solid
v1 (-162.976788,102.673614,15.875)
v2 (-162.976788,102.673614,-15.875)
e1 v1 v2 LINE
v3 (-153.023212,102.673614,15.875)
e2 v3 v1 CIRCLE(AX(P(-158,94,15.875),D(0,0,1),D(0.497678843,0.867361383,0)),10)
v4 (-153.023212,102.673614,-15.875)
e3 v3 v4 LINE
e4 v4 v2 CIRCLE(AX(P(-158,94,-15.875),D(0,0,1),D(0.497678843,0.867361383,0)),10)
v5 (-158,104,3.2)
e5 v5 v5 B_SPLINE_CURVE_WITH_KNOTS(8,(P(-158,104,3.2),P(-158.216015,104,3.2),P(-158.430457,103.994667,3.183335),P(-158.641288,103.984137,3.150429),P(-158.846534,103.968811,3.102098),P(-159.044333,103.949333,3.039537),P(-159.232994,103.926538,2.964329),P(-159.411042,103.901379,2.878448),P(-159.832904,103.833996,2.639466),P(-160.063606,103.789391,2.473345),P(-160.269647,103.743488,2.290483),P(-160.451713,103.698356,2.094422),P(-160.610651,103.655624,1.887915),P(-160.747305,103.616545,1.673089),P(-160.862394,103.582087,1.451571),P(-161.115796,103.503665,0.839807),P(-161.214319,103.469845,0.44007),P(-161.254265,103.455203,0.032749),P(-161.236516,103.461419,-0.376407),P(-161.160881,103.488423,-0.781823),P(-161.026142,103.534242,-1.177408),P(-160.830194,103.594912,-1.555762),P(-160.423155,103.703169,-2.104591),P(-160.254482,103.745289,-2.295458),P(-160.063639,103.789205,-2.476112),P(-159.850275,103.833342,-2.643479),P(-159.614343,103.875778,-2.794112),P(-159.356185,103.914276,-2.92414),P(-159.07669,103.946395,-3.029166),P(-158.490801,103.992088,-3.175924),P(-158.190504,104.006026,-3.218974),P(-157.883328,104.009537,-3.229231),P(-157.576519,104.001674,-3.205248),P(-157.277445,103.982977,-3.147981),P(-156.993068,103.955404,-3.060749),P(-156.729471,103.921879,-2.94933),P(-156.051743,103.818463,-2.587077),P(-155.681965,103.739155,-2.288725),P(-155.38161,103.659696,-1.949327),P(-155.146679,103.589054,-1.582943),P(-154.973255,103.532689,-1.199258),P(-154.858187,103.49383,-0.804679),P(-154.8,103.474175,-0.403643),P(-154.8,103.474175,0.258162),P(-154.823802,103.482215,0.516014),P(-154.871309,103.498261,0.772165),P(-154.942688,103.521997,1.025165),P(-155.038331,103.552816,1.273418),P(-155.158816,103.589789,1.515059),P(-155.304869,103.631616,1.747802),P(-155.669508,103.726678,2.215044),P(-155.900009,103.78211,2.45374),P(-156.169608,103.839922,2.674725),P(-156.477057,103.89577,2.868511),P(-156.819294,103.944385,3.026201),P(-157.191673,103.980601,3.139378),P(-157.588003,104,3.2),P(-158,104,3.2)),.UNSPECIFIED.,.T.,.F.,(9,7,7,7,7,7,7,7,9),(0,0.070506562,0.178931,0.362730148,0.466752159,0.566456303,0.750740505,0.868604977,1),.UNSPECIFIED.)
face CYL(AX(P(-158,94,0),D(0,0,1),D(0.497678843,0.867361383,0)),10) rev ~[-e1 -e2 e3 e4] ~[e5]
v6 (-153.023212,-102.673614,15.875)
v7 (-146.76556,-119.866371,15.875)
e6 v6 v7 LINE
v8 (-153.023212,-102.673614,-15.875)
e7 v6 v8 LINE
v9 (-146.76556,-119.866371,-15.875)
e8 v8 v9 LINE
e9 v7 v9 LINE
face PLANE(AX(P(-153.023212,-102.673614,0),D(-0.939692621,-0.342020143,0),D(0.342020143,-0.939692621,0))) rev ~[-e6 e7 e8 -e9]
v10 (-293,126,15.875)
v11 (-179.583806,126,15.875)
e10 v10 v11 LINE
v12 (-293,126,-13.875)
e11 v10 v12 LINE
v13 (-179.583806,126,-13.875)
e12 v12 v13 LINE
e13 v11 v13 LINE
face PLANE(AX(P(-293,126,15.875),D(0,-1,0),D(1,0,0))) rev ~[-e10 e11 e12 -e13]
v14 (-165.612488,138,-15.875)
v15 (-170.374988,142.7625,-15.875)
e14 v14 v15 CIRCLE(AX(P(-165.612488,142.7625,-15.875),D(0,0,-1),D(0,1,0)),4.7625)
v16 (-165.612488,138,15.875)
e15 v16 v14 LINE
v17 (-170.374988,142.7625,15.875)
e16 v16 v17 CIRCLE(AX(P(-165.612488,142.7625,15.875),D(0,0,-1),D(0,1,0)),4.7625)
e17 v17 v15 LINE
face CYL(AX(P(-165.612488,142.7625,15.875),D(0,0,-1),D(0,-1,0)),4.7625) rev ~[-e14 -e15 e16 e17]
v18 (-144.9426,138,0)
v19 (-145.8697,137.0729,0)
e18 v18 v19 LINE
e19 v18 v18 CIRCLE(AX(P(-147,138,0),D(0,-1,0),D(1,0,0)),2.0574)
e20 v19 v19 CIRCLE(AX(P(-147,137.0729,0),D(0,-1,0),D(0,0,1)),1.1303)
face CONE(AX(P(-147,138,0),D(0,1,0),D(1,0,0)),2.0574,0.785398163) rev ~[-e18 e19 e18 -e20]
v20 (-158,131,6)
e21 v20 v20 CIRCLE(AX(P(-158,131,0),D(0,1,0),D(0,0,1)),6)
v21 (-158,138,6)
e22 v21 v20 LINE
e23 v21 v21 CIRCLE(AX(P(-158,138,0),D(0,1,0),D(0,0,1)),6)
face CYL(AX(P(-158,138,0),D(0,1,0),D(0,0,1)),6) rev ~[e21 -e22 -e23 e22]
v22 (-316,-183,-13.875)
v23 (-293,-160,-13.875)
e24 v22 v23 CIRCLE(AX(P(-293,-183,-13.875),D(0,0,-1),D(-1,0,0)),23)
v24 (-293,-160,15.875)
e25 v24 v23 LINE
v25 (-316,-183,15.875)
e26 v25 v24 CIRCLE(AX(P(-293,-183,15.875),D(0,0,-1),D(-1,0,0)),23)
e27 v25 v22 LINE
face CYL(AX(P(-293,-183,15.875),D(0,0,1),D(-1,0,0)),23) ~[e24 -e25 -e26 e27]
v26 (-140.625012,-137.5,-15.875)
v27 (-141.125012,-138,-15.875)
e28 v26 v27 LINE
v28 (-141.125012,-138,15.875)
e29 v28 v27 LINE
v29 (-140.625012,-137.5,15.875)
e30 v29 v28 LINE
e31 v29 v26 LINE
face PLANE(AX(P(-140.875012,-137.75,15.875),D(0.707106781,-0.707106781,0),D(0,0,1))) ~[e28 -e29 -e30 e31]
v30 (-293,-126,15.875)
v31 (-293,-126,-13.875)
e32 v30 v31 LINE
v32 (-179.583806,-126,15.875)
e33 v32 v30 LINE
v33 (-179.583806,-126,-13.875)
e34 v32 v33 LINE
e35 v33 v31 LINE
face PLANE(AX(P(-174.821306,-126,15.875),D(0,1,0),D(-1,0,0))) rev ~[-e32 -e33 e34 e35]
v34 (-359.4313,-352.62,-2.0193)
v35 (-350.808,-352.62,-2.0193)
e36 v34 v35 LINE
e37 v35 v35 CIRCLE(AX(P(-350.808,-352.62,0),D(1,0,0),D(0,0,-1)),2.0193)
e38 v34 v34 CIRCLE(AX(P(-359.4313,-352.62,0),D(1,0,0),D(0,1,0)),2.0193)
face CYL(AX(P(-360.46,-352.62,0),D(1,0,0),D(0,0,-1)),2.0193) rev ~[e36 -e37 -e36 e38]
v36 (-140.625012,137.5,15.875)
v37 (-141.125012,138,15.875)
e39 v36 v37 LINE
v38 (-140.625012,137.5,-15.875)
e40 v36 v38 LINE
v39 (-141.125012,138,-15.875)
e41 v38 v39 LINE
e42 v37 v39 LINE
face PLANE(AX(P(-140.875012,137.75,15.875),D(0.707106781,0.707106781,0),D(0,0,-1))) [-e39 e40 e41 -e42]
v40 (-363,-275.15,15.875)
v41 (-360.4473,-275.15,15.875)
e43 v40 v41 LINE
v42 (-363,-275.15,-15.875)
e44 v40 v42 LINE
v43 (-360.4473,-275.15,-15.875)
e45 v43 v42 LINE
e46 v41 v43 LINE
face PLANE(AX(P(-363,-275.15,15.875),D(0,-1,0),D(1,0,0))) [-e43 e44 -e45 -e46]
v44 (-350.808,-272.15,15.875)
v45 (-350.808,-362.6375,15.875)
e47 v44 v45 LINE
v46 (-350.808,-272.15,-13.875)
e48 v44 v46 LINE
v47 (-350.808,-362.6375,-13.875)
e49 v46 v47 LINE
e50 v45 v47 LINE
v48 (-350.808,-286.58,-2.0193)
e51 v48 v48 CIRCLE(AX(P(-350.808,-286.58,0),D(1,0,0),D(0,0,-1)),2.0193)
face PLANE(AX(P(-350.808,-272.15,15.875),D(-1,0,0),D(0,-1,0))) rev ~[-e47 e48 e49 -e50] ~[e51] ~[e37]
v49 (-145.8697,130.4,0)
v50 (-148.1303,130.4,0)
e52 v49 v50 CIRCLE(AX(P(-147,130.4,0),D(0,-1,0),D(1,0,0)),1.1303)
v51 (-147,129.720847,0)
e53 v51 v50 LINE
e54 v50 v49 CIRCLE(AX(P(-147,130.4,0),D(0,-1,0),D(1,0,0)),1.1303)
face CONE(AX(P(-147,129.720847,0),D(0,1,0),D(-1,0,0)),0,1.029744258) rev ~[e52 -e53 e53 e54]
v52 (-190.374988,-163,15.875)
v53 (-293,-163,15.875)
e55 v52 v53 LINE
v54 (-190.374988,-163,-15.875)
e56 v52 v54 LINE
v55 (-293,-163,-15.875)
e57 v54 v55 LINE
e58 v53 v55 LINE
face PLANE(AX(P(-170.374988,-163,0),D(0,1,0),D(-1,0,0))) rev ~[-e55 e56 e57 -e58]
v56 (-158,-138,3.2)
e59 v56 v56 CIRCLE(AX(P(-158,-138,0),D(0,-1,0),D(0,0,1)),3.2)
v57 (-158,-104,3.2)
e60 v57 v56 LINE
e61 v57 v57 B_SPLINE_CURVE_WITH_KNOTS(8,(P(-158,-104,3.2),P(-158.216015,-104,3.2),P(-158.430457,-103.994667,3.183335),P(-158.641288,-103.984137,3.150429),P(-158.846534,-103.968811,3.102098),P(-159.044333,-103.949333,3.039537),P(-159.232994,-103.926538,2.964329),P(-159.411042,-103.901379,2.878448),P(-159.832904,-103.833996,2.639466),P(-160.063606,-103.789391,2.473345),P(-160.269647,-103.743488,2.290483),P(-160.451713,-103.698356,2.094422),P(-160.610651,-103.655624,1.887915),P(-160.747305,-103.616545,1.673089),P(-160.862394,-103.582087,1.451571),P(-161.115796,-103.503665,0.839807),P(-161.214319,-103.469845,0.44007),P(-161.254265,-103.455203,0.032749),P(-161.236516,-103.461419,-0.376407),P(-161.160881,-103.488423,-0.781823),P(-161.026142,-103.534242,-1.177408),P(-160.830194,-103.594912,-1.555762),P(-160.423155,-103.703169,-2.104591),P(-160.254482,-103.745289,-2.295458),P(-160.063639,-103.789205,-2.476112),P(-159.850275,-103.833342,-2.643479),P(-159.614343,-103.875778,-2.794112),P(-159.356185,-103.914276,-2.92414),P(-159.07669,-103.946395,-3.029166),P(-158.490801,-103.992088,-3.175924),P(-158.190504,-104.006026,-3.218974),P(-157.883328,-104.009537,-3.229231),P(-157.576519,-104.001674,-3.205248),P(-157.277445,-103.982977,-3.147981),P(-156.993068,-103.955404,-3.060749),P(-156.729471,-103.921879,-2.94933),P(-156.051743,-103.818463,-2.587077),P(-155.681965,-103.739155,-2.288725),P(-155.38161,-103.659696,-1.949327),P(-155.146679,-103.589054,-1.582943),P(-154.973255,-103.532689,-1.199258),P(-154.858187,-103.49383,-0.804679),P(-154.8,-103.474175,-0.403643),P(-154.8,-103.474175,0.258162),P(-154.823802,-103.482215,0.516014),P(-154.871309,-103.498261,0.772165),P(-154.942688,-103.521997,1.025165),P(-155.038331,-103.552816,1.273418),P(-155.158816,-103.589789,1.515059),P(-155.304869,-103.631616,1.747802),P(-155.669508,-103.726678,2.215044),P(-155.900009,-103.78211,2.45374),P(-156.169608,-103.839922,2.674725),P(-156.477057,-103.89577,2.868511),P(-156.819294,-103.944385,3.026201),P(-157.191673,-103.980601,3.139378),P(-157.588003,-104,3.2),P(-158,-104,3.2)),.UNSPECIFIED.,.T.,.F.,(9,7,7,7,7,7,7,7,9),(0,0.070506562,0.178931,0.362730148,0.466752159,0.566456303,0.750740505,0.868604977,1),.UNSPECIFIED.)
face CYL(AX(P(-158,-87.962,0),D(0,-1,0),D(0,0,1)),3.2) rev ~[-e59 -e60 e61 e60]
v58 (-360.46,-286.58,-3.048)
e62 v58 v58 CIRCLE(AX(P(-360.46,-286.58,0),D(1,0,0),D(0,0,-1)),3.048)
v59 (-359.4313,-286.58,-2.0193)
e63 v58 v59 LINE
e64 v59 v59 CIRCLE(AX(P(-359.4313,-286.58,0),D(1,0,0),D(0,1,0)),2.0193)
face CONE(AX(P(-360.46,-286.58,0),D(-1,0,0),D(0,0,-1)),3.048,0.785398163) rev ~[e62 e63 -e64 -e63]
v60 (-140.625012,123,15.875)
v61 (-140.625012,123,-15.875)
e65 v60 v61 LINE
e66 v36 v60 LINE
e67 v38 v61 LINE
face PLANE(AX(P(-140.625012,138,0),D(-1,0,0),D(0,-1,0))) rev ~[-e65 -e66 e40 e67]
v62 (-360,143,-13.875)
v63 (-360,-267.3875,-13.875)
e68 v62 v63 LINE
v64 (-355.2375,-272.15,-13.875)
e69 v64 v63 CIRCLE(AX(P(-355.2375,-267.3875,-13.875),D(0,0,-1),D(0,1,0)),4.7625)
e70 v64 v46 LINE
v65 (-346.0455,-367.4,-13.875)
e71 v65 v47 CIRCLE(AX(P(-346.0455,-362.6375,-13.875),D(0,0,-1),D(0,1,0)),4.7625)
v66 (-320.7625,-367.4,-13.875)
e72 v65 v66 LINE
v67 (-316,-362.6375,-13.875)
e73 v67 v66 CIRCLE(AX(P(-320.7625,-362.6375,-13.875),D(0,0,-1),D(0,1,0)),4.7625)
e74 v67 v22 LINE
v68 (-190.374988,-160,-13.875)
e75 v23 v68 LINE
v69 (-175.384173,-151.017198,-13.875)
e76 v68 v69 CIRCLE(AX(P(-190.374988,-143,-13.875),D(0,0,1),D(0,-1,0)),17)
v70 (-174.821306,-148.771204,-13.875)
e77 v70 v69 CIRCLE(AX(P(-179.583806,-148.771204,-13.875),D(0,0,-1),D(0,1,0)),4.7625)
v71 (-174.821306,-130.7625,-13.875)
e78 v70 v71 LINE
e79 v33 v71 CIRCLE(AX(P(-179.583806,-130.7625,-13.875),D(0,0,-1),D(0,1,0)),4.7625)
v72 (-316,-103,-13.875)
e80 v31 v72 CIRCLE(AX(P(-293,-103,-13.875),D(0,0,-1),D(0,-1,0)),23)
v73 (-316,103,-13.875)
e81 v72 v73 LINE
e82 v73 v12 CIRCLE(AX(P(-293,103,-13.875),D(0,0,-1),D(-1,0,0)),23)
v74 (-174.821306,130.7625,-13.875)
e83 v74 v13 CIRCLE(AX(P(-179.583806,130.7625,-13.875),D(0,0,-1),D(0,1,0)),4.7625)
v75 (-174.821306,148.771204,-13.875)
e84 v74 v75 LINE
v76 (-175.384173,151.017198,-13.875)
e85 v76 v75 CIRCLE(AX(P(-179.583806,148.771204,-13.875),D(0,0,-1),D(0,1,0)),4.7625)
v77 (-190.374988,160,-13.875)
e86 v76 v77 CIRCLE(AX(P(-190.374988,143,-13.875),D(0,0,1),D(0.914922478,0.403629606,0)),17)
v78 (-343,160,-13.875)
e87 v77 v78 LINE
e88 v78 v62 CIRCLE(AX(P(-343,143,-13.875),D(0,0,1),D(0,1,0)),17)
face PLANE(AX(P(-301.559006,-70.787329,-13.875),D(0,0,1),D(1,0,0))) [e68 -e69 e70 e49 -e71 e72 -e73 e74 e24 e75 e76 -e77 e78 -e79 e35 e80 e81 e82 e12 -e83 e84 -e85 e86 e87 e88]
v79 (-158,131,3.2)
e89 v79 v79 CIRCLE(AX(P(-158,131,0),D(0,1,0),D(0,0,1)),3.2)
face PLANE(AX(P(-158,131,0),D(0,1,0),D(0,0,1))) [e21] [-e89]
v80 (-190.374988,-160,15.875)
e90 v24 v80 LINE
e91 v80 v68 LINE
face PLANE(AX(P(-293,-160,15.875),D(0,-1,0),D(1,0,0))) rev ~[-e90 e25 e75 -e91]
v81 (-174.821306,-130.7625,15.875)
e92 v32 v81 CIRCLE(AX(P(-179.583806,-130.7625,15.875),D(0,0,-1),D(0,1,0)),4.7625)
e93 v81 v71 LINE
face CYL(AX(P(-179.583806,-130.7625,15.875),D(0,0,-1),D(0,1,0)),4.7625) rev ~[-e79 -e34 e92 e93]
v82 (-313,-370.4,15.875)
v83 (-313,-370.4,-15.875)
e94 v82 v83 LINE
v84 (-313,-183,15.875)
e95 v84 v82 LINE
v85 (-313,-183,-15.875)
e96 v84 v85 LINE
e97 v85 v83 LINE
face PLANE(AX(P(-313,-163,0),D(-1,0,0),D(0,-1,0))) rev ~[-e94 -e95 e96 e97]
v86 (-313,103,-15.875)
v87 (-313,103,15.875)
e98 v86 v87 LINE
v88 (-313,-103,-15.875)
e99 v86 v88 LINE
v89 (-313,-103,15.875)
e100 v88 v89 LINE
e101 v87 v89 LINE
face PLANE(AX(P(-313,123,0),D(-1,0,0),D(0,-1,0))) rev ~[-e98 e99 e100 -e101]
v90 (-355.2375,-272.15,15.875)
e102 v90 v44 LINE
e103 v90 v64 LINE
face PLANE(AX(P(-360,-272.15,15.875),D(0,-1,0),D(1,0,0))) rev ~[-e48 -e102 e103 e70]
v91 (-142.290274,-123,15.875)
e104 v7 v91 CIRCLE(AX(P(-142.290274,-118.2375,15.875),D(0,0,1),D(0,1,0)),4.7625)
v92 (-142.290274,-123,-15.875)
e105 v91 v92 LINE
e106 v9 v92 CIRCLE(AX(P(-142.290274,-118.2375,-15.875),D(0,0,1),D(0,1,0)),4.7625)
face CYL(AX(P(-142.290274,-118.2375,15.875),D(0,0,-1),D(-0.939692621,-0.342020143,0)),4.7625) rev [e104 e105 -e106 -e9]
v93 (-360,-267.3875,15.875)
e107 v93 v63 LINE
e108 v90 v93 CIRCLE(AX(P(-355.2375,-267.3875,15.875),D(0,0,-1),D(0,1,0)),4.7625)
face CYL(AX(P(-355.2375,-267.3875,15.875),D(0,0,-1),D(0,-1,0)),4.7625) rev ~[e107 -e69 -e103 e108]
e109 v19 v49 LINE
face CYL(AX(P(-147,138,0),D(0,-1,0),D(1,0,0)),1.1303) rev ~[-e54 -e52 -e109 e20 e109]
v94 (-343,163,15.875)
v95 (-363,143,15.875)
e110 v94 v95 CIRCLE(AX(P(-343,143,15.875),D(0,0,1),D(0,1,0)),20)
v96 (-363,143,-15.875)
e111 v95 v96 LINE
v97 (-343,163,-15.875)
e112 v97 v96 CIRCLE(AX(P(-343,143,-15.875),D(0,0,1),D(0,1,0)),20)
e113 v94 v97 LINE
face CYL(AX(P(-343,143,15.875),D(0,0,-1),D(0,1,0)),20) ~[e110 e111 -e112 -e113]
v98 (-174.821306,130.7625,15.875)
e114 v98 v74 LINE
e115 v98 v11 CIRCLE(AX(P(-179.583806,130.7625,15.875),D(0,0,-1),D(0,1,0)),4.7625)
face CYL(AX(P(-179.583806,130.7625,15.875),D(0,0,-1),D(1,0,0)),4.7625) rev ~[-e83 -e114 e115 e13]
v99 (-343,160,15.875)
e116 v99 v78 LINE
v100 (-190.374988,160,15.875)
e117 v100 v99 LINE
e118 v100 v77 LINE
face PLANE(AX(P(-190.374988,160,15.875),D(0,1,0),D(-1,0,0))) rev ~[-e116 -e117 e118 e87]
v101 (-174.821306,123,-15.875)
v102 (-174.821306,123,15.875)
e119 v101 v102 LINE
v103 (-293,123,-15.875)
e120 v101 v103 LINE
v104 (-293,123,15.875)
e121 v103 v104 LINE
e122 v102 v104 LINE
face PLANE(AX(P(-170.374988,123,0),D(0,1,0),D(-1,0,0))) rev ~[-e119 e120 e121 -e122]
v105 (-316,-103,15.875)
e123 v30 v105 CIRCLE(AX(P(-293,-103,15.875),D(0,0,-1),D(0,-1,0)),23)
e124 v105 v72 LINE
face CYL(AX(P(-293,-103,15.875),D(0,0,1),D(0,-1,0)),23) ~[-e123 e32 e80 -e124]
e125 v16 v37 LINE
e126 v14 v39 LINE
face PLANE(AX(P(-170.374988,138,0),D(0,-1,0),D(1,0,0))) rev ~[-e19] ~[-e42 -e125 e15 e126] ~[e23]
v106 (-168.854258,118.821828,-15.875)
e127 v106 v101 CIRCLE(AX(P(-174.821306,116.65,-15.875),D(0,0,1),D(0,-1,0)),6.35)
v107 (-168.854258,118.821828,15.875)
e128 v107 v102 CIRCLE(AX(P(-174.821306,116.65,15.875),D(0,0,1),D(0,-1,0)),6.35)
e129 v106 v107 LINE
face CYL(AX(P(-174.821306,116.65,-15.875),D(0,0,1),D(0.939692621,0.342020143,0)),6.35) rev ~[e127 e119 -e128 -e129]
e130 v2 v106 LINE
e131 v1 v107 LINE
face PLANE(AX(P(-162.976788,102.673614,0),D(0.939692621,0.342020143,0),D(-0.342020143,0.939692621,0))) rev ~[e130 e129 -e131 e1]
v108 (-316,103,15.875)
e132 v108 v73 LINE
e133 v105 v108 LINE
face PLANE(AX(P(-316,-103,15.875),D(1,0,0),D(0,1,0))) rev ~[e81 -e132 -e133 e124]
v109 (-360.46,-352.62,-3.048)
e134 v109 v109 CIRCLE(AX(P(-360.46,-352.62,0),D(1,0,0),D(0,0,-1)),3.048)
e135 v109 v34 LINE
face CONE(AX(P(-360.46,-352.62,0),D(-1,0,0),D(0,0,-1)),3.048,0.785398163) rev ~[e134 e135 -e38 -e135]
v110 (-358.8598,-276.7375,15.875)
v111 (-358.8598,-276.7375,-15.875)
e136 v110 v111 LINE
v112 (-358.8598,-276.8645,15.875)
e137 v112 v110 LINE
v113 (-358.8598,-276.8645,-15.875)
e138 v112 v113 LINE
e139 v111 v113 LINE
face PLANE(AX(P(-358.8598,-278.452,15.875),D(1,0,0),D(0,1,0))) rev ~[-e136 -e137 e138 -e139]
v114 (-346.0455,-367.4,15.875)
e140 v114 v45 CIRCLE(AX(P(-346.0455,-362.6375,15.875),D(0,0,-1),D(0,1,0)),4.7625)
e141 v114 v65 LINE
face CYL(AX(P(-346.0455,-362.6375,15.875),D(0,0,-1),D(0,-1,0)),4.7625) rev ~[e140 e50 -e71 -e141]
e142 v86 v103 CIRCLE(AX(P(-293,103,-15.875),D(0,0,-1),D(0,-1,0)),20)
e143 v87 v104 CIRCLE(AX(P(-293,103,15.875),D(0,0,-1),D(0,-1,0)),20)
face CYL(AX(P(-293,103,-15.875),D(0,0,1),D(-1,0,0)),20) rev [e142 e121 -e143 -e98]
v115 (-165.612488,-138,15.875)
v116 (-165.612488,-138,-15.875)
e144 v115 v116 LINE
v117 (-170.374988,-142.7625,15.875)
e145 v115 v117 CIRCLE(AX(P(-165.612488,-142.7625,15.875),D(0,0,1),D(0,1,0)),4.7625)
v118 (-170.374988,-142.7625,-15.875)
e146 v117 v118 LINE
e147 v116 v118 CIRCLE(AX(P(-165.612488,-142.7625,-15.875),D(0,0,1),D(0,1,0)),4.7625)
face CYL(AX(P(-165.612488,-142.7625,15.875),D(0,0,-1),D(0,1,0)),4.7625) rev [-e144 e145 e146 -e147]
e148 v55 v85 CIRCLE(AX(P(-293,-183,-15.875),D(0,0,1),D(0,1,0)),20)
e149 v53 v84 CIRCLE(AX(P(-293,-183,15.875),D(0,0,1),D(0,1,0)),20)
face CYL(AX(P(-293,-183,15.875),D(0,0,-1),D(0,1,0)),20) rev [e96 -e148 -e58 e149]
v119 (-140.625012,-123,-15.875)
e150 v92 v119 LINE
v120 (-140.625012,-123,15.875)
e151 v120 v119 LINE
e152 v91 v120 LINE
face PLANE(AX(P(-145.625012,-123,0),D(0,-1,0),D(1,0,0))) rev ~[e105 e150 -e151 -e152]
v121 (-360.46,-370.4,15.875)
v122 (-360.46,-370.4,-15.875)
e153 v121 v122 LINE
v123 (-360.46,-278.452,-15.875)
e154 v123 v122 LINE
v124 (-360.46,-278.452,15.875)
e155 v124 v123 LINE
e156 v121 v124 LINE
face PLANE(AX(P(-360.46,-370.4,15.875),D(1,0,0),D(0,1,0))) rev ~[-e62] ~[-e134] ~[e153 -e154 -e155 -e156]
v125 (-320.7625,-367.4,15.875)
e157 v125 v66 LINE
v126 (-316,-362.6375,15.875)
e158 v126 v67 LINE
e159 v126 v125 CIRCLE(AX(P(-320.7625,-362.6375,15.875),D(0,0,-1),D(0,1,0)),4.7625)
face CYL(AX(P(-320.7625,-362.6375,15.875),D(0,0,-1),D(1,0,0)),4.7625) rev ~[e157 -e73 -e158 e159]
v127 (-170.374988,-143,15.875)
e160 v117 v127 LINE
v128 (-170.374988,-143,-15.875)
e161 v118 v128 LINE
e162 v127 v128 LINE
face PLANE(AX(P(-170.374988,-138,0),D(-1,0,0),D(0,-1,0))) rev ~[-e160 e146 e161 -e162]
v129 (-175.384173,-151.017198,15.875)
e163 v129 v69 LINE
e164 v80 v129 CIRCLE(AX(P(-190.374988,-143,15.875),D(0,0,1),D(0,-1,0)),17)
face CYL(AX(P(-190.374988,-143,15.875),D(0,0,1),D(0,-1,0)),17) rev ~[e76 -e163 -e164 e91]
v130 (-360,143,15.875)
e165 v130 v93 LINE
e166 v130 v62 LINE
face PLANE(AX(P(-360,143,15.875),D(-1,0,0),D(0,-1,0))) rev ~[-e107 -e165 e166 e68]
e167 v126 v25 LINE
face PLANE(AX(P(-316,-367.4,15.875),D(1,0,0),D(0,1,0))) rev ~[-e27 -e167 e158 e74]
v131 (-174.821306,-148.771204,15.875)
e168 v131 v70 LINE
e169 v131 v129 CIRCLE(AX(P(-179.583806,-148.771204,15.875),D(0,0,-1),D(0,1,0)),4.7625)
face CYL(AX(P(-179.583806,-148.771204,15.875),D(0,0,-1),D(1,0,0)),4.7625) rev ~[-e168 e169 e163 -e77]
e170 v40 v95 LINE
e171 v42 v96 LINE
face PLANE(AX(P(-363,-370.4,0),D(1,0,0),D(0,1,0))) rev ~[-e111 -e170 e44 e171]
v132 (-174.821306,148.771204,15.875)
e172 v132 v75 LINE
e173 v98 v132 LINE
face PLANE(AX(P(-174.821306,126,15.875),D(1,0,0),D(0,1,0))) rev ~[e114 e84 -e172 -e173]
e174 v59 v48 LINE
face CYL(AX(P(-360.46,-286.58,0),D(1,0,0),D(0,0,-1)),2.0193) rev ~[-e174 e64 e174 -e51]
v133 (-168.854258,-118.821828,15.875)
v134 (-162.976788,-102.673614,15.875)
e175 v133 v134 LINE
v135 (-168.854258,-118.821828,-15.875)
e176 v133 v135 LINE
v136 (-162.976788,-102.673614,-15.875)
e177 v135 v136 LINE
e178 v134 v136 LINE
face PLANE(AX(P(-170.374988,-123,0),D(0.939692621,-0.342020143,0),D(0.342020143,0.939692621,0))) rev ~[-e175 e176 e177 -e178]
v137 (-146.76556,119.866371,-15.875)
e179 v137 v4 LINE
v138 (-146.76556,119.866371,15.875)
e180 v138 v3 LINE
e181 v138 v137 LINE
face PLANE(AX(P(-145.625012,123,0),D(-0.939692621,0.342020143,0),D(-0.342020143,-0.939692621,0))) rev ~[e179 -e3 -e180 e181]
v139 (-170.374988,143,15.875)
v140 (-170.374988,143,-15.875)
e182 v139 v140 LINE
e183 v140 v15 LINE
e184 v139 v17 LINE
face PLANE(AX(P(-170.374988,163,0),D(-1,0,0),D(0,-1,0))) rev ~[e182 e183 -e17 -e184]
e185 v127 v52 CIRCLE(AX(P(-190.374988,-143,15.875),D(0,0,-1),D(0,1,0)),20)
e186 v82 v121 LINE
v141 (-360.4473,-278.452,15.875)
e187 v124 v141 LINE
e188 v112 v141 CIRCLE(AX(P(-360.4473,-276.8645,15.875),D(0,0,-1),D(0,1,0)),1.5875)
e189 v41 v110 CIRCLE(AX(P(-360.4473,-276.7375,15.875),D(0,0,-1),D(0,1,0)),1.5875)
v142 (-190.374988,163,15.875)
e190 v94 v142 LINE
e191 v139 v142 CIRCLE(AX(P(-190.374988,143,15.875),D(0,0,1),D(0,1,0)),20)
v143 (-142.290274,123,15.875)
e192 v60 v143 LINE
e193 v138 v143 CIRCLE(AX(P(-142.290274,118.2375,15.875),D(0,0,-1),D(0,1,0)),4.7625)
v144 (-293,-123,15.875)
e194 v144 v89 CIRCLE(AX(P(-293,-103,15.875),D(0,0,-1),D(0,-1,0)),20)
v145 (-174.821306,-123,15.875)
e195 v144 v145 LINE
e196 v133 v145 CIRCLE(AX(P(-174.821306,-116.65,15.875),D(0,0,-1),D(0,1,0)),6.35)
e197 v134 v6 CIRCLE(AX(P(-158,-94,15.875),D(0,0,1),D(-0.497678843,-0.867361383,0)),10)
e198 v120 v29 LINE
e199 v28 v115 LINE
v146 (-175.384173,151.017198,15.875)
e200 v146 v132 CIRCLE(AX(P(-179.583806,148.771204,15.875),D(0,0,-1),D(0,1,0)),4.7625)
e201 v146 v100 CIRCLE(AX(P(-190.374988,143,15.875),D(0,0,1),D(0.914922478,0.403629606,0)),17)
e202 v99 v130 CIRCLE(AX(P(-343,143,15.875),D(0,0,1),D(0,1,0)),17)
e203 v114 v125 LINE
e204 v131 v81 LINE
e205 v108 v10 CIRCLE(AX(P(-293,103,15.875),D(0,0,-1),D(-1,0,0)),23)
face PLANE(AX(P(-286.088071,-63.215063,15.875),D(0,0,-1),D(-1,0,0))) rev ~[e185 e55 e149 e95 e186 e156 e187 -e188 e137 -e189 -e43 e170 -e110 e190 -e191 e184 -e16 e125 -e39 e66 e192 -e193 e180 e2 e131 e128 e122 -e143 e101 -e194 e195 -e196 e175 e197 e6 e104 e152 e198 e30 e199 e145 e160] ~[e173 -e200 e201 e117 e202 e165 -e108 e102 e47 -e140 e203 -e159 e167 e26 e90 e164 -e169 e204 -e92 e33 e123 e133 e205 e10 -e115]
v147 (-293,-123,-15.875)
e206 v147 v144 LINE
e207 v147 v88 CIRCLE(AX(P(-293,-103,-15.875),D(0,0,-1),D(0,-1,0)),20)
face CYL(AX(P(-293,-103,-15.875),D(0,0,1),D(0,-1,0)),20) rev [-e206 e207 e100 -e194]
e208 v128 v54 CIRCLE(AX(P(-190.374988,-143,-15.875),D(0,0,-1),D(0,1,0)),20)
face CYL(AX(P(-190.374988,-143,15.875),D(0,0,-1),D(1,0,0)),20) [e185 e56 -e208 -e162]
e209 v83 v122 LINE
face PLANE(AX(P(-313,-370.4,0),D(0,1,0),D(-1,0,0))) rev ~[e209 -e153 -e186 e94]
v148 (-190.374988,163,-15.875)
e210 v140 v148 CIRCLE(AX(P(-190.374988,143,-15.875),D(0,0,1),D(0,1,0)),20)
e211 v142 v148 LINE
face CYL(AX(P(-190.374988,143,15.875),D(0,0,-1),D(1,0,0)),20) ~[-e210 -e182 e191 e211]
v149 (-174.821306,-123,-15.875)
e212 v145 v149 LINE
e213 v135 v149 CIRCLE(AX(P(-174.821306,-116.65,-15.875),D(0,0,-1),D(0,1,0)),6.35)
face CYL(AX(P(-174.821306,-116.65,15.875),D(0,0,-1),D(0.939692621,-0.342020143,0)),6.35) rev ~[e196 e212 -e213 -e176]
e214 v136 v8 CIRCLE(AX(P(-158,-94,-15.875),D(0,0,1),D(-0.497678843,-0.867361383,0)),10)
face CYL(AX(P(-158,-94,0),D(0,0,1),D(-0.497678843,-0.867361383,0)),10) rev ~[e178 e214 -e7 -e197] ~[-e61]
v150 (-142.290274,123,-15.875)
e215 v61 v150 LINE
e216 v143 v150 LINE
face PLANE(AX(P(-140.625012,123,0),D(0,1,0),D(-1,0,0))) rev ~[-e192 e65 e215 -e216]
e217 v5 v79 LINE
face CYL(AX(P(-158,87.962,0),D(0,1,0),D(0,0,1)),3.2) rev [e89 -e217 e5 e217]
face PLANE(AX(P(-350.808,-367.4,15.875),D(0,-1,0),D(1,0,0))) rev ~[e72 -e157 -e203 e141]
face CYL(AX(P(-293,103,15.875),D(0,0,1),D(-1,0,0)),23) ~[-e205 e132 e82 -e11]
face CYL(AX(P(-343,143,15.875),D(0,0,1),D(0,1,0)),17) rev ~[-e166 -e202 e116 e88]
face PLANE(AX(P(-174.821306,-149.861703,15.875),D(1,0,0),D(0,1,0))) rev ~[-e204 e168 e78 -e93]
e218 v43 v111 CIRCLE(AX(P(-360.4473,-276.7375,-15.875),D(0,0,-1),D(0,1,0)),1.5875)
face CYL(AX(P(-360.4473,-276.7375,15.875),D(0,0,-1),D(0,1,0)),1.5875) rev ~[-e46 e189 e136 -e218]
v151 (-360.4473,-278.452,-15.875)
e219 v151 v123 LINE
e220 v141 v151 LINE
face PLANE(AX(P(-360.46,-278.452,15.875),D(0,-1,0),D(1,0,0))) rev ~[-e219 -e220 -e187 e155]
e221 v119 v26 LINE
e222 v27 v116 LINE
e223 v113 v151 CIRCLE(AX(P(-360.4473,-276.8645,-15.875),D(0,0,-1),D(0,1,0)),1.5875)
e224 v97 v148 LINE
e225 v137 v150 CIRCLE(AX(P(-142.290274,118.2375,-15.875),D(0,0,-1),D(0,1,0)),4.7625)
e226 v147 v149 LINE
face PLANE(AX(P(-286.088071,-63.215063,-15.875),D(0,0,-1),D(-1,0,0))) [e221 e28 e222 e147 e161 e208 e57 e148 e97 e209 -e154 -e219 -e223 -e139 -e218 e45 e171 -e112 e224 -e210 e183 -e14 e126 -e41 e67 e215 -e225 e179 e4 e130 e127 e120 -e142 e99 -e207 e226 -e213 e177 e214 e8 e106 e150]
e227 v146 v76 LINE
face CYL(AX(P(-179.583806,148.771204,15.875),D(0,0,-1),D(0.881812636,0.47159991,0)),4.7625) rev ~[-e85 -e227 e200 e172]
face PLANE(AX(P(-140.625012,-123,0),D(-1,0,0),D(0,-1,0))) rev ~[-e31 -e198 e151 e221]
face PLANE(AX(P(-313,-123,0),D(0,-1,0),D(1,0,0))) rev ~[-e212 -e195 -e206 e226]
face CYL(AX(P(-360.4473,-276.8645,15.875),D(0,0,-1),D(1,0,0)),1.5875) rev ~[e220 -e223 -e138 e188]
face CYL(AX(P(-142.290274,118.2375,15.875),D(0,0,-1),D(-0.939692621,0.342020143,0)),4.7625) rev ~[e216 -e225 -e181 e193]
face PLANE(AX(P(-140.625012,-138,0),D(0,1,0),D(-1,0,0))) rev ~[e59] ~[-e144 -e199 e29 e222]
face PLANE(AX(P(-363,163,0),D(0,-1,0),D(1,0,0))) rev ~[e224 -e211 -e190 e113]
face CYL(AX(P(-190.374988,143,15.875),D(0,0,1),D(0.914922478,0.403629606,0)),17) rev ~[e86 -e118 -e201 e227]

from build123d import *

# Parameters (mm, degrees)
BOSS_EXTRUDE1_DEPTH              = 15.875
SKETCH13_W                       = 2.54
SKETCH13_H                       = 95.25
CUT_EXTRUDE2_DEPTH               = 32.75
SKETCH14_W                       = 1.6002
SKETCH14_H                       = 3.302
CUT_EXTRUDE3_DEPTH               = 32.75
FILLET4_R                        = 1.5875
FILLET1_R                        = 6.35
FILLET2_R                        = 20
FILLET3_R                        = 4.7625
SKETCH10_R                       = 6
CUT_EXTRUDE1_DEPTH               = 7
F_4_40_TAPPED_HOLE1_D            = 2.2606
F_4_40_TAPPED_HOLE1_DEPTH        = 7.6
F_4_40_TAPPED_HOLE1_CSINK_D      = 4.1148
F_4_40_TAPPED_HOLE1_CSINK_ANGLE  = 90
F_4_40_TAPPED_HOLE1_TIP          = 0.679152758
CHAMFER1_SIZE                    = 0.5
F_10_32_TAPPED_HOLE1_D           = 4.0386
F_10_32_TAPPED_HOLE1_DEPTH       = 12.03
F_10_32_TAPPED_HOLE1_CSINK_D     = 6.096
F_10_32_TAPPED_HOLE1_CSINK_ANGLE = 90
F_10_32_TAPPED_HOLE1_TIP         = 1.213317848
CUT_EXTRUDE7_DEPTH               = 29.75
FILLET5_R                        = 4.7625


with BuildPart() as part:
    # Sketch1 → Boss-Extrude1 (new body, symmetric)
    with BuildSketch(Plane.XY):
        with BuildLine():
            Line((-313, -123), (-176.364963641, -123))
            Line((-176.364963641, -123), (-170.374987965, -123))
            Line((-170.374987965, -123), (-162.97678843, -102.673613833))
            ThreePointArc((-162.97678843, -102.673613833), (-158, -104), (-153.02321157, -102.673613833))
            Line((-153.02321157, -102.673613833), (-145.625012035, -123))
            Line((-145.625012035, -123), (-140.625012035, -123))
            Line((-140.625012035, -123), (-140.625012035, -138))
            Line((-140.625012035, -138), (-145.625012035, -138))
            Line((-145.625012035, -138), (-170.374987965, -138))
            Line((-170.374987965, -138), (-170.374987965, -163))
            Line((-170.374987965, -163), (-313, -163))
            Line((-313, -163), (-313, -370.4))
            Line((-313, -370.4), (-363, -370.4))
            Line((-363, -370.4), (-363, -163))
            Line((-363, -163), (-363, 163))
            Line((-363, 163), (-170.374987965, 163))
            Line((-170.374987965, 163), (-170.374987965, 138))
            Line((-170.374987965, 138), (-145.625012035, 138))
            Line((-145.625012035, 138), (-140.625012035, 138))
            Line((-140.625012035, 138), (-140.625012035, 123))
            Line((-140.625012035, 123), (-145.625012035, 123))
            Line((-145.625012035, 123), (-153.02321157, 102.673613833))
            ThreePointArc((-153.02321157, 102.673613833), (-158, 104), (-162.97678843, 102.673613833))
            Line((-162.97678843, 102.673613833), (-170.374987965, 123))
            Line((-170.374987965, 123), (-176.364963641, 123))
            Line((-176.364963641, 123), (-313, 123))
            Line((-313, 123), (-313, -123))
        make_face()
    extrude(amount=BOSS_EXTRUDE1_DEPTH, both=True)

    # Sketch13 → Cut-Extrude2 (cut, through all)
    with BuildSketch(Plane.XY.offset(15.875)):
        with Locations((-361.73, -322.775)):
            Rectangle(SKETCH13_W, SKETCH13_H)
    extrude(amount=-CUT_EXTRUDE2_DEPTH, mode=Mode.SUBTRACT)

    # Sketch14 → Cut-Extrude3 (cut, through all)
    with BuildSketch(Plane.XY.offset(15.875)):
        with Locations((-359.6599, -276.801)):
            Rectangle(SKETCH14_W, SKETCH14_H)
    extrude(amount=-CUT_EXTRUDE3_DEPTH, mode=Mode.SUBTRACT)

    # Fillet4
    fillet4_edges = [part.edges().sort_by_distance(p)[0] for p in [
        (-358.8598, -275.15, 0),
        (-358.8598, -278.452, 0),
    ]]
    fillet(fillet4_edges, radius=FILLET4_R)

    # Fillet1
    fillet1_edges = [part.edges().sort_by_distance(p)[0] for p in [
        (-170.374987965, -123, 0),
        (-170.374987965, 123, 0),
    ]]
    fillet(fillet1_edges, radius=FILLET1_R)

    # Fillet2
    fillet2_edges = [part.edges().sort_by_distance(p)[0] for p in [
        (-313, 123, 0),
        (-313, -123, 0),
        (-170.374987965, -163, 0),
        (-313, -163, 0),
        (-363, 163, 0),
        (-170.374987965, 163, 0),
    ]]
    fillet(fillet2_edges, radius=FILLET2_R)

    # Fillet3
    fillet3_edges = [part.edges().sort_by_distance(p)[0] for p in [
        (-145.625012035, -123, 0),
        (-170.374987965, -138, 0),
        (-170.374987965, 138, 0),
        (-145.625012035, 123, 0),
    ]]
    fillet(fillet3_edges, radius=FILLET3_R)

    # Sketch8 → M6 Clearance Hole1 (revolve, cut)
    with BuildSketch(Plane(origin=(-158, 138, 0), x_dir=(0, 0, 1), z_dir=(1, 0, 0))):
        Polygon((0, 0), (0, 51.960753981), (3.2, 50.038), (3.2, 0), align=None)
    m6_clearance_hole1 = revolve(axis=Axis((-158, 144.35, 0), (0, -1, 0)), mode=Mode.SUBTRACT)

    # Sketch10 → Cut-Extrude1 (cut)
    with BuildSketch(Plane(origin=(0, 138, 0), x_dir=(1, 0, 0), z_dir=(0, 1, 0))):
        with Locations(Location((-158, 0, 0), (0, 0, 270))):  # turned: the seam where the file's is
            Circle(SKETCH10_R)
    extrude(amount=-CUT_EXTRUDE1_DEPTH, mode=Mode.SUBTRACT)

    # #4-40 Tapped Hole1
    with Locations(Plane(origin=(0, 138, 0), x_dir=(-1, 0, 0), z_dir=(0, 1, 0))):
        with Locations((147, 0)):
            CounterSinkHole(F_4_40_TAPPED_HOLE1_D / 2, F_4_40_TAPPED_HOLE1_CSINK_D / 2, depth=F_4_40_TAPPED_HOLE1_DEPTH, counter_sink_angle=F_4_40_TAPPED_HOLE1_CSINK_ANGLE)
            with Locations((0, 0, -(F_4_40_TAPPED_HOLE1_DEPTH + F_4_40_TAPPED_HOLE1_TIP / 2))):  # 118° drill point
                Cone(0, F_4_40_TAPPED_HOLE1_D / 2, F_4_40_TAPPED_HOLE1_TIP, mode=Mode.SUBTRACT)

    # Mirror1: M6 Clearance Hole1 across plane
    add(m6_clearance_hole1.mirror(Plane.ZX), mode=Mode.SUBTRACT)

    # Chamfer1
    chamfer1_edges = [part.edges().sort_by_distance(p)[0] for p in [
        (-140.625012035, -138, 0),
        (-140.625012035, 138, 0),
    ]]
    chamfer(chamfer1_edges, length=CHAMFER1_SIZE)

    # #10-32 Tapped Hole1
    with Locations(Plane.ZY.offset(360.46)):
        with Locations((0, -286.58), (0, -352.62)):
            CounterSinkHole(F_10_32_TAPPED_HOLE1_D / 2, F_10_32_TAPPED_HOLE1_CSINK_D / 2, depth=F_10_32_TAPPED_HOLE1_DEPTH, counter_sink_angle=F_10_32_TAPPED_HOLE1_CSINK_ANGLE)
            with Locations((0, 0, -(F_10_32_TAPPED_HOLE1_DEPTH + F_10_32_TAPPED_HOLE1_TIP / 2))):  # 118° drill point
                Cone(0, F_10_32_TAPPED_HOLE1_D / 2, F_10_32_TAPPED_HOLE1_TIP, mode=Mode.SUBTRACT)

    # Sketch25 → Cut-Extrude7 (cut)
    with BuildSketch(Plane.XY.offset(15.875)):
        with BuildLine():
            Line((-190.374987965, 160), (-343, 160))
            ThreePointArc((-343, 160), (-355.02081528, 155.02081528), (-360, 143))
            Line((-360, 143), (-360, -272.15))
            Line((-360, -272.15), (-350.808, -272.15))
            Line((-350.808, -272.15), (-350.808, -367.4))
            Line((-350.808, -367.4), (-316, -367.4))
            Line((-316, -367.4), (-316, -183))
            ThreePointArc((-316, -183), (-309.263455967, -166.736544033), (-293, -160))
            Line((-293, -160), (-190.374987965, -160))
            ThreePointArc((-190.374987965, -160), (-181.091910782, -157.241645903), (-174.821305833, -149.861703296))
            Line((-174.821305833, -149.861703296), (-174.821305833, -126))
            Line((-174.821305833, -126), (-293, -126))
            ThreePointArc((-293, -126), (-309.263455967, -119.263455967), (-316, -103))
            Line((-316, -103), (-316, 103))
            ThreePointArc((-316, 103), (-309.263455967, 119.263455967), (-293, 126))
            Line((-293, 126), (-174.821305833, 126))
            Line((-174.821305833, 126), (-174.821305833, 149.861703296))
            ThreePointArc((-174.821305833, 149.861703296), (-181.091910782, 157.241645903), (-190.374987965, 160))
        make_face()
    extrude(amount=-CUT_EXTRUDE7_DEPTH, mode=Mode.SUBTRACT)

    # Fillet5
    fillet5_edges = [part.edges().sort_by_distance(p)[0] for p in [
        (-350.808, -367.4, 1),
        (-316, -367.4, 1),
        (-174.821305833, -149.861703296, 1),
        (-174.821305833, -126, 1),
        (-174.821305833, 126, 1),
        (-174.821305833, 149.861703296, 1),
        (-360, -272.15, 1),
    ]]
    fillet(fillet5_edges, radius=FILLET5_R)


solid = part.part
